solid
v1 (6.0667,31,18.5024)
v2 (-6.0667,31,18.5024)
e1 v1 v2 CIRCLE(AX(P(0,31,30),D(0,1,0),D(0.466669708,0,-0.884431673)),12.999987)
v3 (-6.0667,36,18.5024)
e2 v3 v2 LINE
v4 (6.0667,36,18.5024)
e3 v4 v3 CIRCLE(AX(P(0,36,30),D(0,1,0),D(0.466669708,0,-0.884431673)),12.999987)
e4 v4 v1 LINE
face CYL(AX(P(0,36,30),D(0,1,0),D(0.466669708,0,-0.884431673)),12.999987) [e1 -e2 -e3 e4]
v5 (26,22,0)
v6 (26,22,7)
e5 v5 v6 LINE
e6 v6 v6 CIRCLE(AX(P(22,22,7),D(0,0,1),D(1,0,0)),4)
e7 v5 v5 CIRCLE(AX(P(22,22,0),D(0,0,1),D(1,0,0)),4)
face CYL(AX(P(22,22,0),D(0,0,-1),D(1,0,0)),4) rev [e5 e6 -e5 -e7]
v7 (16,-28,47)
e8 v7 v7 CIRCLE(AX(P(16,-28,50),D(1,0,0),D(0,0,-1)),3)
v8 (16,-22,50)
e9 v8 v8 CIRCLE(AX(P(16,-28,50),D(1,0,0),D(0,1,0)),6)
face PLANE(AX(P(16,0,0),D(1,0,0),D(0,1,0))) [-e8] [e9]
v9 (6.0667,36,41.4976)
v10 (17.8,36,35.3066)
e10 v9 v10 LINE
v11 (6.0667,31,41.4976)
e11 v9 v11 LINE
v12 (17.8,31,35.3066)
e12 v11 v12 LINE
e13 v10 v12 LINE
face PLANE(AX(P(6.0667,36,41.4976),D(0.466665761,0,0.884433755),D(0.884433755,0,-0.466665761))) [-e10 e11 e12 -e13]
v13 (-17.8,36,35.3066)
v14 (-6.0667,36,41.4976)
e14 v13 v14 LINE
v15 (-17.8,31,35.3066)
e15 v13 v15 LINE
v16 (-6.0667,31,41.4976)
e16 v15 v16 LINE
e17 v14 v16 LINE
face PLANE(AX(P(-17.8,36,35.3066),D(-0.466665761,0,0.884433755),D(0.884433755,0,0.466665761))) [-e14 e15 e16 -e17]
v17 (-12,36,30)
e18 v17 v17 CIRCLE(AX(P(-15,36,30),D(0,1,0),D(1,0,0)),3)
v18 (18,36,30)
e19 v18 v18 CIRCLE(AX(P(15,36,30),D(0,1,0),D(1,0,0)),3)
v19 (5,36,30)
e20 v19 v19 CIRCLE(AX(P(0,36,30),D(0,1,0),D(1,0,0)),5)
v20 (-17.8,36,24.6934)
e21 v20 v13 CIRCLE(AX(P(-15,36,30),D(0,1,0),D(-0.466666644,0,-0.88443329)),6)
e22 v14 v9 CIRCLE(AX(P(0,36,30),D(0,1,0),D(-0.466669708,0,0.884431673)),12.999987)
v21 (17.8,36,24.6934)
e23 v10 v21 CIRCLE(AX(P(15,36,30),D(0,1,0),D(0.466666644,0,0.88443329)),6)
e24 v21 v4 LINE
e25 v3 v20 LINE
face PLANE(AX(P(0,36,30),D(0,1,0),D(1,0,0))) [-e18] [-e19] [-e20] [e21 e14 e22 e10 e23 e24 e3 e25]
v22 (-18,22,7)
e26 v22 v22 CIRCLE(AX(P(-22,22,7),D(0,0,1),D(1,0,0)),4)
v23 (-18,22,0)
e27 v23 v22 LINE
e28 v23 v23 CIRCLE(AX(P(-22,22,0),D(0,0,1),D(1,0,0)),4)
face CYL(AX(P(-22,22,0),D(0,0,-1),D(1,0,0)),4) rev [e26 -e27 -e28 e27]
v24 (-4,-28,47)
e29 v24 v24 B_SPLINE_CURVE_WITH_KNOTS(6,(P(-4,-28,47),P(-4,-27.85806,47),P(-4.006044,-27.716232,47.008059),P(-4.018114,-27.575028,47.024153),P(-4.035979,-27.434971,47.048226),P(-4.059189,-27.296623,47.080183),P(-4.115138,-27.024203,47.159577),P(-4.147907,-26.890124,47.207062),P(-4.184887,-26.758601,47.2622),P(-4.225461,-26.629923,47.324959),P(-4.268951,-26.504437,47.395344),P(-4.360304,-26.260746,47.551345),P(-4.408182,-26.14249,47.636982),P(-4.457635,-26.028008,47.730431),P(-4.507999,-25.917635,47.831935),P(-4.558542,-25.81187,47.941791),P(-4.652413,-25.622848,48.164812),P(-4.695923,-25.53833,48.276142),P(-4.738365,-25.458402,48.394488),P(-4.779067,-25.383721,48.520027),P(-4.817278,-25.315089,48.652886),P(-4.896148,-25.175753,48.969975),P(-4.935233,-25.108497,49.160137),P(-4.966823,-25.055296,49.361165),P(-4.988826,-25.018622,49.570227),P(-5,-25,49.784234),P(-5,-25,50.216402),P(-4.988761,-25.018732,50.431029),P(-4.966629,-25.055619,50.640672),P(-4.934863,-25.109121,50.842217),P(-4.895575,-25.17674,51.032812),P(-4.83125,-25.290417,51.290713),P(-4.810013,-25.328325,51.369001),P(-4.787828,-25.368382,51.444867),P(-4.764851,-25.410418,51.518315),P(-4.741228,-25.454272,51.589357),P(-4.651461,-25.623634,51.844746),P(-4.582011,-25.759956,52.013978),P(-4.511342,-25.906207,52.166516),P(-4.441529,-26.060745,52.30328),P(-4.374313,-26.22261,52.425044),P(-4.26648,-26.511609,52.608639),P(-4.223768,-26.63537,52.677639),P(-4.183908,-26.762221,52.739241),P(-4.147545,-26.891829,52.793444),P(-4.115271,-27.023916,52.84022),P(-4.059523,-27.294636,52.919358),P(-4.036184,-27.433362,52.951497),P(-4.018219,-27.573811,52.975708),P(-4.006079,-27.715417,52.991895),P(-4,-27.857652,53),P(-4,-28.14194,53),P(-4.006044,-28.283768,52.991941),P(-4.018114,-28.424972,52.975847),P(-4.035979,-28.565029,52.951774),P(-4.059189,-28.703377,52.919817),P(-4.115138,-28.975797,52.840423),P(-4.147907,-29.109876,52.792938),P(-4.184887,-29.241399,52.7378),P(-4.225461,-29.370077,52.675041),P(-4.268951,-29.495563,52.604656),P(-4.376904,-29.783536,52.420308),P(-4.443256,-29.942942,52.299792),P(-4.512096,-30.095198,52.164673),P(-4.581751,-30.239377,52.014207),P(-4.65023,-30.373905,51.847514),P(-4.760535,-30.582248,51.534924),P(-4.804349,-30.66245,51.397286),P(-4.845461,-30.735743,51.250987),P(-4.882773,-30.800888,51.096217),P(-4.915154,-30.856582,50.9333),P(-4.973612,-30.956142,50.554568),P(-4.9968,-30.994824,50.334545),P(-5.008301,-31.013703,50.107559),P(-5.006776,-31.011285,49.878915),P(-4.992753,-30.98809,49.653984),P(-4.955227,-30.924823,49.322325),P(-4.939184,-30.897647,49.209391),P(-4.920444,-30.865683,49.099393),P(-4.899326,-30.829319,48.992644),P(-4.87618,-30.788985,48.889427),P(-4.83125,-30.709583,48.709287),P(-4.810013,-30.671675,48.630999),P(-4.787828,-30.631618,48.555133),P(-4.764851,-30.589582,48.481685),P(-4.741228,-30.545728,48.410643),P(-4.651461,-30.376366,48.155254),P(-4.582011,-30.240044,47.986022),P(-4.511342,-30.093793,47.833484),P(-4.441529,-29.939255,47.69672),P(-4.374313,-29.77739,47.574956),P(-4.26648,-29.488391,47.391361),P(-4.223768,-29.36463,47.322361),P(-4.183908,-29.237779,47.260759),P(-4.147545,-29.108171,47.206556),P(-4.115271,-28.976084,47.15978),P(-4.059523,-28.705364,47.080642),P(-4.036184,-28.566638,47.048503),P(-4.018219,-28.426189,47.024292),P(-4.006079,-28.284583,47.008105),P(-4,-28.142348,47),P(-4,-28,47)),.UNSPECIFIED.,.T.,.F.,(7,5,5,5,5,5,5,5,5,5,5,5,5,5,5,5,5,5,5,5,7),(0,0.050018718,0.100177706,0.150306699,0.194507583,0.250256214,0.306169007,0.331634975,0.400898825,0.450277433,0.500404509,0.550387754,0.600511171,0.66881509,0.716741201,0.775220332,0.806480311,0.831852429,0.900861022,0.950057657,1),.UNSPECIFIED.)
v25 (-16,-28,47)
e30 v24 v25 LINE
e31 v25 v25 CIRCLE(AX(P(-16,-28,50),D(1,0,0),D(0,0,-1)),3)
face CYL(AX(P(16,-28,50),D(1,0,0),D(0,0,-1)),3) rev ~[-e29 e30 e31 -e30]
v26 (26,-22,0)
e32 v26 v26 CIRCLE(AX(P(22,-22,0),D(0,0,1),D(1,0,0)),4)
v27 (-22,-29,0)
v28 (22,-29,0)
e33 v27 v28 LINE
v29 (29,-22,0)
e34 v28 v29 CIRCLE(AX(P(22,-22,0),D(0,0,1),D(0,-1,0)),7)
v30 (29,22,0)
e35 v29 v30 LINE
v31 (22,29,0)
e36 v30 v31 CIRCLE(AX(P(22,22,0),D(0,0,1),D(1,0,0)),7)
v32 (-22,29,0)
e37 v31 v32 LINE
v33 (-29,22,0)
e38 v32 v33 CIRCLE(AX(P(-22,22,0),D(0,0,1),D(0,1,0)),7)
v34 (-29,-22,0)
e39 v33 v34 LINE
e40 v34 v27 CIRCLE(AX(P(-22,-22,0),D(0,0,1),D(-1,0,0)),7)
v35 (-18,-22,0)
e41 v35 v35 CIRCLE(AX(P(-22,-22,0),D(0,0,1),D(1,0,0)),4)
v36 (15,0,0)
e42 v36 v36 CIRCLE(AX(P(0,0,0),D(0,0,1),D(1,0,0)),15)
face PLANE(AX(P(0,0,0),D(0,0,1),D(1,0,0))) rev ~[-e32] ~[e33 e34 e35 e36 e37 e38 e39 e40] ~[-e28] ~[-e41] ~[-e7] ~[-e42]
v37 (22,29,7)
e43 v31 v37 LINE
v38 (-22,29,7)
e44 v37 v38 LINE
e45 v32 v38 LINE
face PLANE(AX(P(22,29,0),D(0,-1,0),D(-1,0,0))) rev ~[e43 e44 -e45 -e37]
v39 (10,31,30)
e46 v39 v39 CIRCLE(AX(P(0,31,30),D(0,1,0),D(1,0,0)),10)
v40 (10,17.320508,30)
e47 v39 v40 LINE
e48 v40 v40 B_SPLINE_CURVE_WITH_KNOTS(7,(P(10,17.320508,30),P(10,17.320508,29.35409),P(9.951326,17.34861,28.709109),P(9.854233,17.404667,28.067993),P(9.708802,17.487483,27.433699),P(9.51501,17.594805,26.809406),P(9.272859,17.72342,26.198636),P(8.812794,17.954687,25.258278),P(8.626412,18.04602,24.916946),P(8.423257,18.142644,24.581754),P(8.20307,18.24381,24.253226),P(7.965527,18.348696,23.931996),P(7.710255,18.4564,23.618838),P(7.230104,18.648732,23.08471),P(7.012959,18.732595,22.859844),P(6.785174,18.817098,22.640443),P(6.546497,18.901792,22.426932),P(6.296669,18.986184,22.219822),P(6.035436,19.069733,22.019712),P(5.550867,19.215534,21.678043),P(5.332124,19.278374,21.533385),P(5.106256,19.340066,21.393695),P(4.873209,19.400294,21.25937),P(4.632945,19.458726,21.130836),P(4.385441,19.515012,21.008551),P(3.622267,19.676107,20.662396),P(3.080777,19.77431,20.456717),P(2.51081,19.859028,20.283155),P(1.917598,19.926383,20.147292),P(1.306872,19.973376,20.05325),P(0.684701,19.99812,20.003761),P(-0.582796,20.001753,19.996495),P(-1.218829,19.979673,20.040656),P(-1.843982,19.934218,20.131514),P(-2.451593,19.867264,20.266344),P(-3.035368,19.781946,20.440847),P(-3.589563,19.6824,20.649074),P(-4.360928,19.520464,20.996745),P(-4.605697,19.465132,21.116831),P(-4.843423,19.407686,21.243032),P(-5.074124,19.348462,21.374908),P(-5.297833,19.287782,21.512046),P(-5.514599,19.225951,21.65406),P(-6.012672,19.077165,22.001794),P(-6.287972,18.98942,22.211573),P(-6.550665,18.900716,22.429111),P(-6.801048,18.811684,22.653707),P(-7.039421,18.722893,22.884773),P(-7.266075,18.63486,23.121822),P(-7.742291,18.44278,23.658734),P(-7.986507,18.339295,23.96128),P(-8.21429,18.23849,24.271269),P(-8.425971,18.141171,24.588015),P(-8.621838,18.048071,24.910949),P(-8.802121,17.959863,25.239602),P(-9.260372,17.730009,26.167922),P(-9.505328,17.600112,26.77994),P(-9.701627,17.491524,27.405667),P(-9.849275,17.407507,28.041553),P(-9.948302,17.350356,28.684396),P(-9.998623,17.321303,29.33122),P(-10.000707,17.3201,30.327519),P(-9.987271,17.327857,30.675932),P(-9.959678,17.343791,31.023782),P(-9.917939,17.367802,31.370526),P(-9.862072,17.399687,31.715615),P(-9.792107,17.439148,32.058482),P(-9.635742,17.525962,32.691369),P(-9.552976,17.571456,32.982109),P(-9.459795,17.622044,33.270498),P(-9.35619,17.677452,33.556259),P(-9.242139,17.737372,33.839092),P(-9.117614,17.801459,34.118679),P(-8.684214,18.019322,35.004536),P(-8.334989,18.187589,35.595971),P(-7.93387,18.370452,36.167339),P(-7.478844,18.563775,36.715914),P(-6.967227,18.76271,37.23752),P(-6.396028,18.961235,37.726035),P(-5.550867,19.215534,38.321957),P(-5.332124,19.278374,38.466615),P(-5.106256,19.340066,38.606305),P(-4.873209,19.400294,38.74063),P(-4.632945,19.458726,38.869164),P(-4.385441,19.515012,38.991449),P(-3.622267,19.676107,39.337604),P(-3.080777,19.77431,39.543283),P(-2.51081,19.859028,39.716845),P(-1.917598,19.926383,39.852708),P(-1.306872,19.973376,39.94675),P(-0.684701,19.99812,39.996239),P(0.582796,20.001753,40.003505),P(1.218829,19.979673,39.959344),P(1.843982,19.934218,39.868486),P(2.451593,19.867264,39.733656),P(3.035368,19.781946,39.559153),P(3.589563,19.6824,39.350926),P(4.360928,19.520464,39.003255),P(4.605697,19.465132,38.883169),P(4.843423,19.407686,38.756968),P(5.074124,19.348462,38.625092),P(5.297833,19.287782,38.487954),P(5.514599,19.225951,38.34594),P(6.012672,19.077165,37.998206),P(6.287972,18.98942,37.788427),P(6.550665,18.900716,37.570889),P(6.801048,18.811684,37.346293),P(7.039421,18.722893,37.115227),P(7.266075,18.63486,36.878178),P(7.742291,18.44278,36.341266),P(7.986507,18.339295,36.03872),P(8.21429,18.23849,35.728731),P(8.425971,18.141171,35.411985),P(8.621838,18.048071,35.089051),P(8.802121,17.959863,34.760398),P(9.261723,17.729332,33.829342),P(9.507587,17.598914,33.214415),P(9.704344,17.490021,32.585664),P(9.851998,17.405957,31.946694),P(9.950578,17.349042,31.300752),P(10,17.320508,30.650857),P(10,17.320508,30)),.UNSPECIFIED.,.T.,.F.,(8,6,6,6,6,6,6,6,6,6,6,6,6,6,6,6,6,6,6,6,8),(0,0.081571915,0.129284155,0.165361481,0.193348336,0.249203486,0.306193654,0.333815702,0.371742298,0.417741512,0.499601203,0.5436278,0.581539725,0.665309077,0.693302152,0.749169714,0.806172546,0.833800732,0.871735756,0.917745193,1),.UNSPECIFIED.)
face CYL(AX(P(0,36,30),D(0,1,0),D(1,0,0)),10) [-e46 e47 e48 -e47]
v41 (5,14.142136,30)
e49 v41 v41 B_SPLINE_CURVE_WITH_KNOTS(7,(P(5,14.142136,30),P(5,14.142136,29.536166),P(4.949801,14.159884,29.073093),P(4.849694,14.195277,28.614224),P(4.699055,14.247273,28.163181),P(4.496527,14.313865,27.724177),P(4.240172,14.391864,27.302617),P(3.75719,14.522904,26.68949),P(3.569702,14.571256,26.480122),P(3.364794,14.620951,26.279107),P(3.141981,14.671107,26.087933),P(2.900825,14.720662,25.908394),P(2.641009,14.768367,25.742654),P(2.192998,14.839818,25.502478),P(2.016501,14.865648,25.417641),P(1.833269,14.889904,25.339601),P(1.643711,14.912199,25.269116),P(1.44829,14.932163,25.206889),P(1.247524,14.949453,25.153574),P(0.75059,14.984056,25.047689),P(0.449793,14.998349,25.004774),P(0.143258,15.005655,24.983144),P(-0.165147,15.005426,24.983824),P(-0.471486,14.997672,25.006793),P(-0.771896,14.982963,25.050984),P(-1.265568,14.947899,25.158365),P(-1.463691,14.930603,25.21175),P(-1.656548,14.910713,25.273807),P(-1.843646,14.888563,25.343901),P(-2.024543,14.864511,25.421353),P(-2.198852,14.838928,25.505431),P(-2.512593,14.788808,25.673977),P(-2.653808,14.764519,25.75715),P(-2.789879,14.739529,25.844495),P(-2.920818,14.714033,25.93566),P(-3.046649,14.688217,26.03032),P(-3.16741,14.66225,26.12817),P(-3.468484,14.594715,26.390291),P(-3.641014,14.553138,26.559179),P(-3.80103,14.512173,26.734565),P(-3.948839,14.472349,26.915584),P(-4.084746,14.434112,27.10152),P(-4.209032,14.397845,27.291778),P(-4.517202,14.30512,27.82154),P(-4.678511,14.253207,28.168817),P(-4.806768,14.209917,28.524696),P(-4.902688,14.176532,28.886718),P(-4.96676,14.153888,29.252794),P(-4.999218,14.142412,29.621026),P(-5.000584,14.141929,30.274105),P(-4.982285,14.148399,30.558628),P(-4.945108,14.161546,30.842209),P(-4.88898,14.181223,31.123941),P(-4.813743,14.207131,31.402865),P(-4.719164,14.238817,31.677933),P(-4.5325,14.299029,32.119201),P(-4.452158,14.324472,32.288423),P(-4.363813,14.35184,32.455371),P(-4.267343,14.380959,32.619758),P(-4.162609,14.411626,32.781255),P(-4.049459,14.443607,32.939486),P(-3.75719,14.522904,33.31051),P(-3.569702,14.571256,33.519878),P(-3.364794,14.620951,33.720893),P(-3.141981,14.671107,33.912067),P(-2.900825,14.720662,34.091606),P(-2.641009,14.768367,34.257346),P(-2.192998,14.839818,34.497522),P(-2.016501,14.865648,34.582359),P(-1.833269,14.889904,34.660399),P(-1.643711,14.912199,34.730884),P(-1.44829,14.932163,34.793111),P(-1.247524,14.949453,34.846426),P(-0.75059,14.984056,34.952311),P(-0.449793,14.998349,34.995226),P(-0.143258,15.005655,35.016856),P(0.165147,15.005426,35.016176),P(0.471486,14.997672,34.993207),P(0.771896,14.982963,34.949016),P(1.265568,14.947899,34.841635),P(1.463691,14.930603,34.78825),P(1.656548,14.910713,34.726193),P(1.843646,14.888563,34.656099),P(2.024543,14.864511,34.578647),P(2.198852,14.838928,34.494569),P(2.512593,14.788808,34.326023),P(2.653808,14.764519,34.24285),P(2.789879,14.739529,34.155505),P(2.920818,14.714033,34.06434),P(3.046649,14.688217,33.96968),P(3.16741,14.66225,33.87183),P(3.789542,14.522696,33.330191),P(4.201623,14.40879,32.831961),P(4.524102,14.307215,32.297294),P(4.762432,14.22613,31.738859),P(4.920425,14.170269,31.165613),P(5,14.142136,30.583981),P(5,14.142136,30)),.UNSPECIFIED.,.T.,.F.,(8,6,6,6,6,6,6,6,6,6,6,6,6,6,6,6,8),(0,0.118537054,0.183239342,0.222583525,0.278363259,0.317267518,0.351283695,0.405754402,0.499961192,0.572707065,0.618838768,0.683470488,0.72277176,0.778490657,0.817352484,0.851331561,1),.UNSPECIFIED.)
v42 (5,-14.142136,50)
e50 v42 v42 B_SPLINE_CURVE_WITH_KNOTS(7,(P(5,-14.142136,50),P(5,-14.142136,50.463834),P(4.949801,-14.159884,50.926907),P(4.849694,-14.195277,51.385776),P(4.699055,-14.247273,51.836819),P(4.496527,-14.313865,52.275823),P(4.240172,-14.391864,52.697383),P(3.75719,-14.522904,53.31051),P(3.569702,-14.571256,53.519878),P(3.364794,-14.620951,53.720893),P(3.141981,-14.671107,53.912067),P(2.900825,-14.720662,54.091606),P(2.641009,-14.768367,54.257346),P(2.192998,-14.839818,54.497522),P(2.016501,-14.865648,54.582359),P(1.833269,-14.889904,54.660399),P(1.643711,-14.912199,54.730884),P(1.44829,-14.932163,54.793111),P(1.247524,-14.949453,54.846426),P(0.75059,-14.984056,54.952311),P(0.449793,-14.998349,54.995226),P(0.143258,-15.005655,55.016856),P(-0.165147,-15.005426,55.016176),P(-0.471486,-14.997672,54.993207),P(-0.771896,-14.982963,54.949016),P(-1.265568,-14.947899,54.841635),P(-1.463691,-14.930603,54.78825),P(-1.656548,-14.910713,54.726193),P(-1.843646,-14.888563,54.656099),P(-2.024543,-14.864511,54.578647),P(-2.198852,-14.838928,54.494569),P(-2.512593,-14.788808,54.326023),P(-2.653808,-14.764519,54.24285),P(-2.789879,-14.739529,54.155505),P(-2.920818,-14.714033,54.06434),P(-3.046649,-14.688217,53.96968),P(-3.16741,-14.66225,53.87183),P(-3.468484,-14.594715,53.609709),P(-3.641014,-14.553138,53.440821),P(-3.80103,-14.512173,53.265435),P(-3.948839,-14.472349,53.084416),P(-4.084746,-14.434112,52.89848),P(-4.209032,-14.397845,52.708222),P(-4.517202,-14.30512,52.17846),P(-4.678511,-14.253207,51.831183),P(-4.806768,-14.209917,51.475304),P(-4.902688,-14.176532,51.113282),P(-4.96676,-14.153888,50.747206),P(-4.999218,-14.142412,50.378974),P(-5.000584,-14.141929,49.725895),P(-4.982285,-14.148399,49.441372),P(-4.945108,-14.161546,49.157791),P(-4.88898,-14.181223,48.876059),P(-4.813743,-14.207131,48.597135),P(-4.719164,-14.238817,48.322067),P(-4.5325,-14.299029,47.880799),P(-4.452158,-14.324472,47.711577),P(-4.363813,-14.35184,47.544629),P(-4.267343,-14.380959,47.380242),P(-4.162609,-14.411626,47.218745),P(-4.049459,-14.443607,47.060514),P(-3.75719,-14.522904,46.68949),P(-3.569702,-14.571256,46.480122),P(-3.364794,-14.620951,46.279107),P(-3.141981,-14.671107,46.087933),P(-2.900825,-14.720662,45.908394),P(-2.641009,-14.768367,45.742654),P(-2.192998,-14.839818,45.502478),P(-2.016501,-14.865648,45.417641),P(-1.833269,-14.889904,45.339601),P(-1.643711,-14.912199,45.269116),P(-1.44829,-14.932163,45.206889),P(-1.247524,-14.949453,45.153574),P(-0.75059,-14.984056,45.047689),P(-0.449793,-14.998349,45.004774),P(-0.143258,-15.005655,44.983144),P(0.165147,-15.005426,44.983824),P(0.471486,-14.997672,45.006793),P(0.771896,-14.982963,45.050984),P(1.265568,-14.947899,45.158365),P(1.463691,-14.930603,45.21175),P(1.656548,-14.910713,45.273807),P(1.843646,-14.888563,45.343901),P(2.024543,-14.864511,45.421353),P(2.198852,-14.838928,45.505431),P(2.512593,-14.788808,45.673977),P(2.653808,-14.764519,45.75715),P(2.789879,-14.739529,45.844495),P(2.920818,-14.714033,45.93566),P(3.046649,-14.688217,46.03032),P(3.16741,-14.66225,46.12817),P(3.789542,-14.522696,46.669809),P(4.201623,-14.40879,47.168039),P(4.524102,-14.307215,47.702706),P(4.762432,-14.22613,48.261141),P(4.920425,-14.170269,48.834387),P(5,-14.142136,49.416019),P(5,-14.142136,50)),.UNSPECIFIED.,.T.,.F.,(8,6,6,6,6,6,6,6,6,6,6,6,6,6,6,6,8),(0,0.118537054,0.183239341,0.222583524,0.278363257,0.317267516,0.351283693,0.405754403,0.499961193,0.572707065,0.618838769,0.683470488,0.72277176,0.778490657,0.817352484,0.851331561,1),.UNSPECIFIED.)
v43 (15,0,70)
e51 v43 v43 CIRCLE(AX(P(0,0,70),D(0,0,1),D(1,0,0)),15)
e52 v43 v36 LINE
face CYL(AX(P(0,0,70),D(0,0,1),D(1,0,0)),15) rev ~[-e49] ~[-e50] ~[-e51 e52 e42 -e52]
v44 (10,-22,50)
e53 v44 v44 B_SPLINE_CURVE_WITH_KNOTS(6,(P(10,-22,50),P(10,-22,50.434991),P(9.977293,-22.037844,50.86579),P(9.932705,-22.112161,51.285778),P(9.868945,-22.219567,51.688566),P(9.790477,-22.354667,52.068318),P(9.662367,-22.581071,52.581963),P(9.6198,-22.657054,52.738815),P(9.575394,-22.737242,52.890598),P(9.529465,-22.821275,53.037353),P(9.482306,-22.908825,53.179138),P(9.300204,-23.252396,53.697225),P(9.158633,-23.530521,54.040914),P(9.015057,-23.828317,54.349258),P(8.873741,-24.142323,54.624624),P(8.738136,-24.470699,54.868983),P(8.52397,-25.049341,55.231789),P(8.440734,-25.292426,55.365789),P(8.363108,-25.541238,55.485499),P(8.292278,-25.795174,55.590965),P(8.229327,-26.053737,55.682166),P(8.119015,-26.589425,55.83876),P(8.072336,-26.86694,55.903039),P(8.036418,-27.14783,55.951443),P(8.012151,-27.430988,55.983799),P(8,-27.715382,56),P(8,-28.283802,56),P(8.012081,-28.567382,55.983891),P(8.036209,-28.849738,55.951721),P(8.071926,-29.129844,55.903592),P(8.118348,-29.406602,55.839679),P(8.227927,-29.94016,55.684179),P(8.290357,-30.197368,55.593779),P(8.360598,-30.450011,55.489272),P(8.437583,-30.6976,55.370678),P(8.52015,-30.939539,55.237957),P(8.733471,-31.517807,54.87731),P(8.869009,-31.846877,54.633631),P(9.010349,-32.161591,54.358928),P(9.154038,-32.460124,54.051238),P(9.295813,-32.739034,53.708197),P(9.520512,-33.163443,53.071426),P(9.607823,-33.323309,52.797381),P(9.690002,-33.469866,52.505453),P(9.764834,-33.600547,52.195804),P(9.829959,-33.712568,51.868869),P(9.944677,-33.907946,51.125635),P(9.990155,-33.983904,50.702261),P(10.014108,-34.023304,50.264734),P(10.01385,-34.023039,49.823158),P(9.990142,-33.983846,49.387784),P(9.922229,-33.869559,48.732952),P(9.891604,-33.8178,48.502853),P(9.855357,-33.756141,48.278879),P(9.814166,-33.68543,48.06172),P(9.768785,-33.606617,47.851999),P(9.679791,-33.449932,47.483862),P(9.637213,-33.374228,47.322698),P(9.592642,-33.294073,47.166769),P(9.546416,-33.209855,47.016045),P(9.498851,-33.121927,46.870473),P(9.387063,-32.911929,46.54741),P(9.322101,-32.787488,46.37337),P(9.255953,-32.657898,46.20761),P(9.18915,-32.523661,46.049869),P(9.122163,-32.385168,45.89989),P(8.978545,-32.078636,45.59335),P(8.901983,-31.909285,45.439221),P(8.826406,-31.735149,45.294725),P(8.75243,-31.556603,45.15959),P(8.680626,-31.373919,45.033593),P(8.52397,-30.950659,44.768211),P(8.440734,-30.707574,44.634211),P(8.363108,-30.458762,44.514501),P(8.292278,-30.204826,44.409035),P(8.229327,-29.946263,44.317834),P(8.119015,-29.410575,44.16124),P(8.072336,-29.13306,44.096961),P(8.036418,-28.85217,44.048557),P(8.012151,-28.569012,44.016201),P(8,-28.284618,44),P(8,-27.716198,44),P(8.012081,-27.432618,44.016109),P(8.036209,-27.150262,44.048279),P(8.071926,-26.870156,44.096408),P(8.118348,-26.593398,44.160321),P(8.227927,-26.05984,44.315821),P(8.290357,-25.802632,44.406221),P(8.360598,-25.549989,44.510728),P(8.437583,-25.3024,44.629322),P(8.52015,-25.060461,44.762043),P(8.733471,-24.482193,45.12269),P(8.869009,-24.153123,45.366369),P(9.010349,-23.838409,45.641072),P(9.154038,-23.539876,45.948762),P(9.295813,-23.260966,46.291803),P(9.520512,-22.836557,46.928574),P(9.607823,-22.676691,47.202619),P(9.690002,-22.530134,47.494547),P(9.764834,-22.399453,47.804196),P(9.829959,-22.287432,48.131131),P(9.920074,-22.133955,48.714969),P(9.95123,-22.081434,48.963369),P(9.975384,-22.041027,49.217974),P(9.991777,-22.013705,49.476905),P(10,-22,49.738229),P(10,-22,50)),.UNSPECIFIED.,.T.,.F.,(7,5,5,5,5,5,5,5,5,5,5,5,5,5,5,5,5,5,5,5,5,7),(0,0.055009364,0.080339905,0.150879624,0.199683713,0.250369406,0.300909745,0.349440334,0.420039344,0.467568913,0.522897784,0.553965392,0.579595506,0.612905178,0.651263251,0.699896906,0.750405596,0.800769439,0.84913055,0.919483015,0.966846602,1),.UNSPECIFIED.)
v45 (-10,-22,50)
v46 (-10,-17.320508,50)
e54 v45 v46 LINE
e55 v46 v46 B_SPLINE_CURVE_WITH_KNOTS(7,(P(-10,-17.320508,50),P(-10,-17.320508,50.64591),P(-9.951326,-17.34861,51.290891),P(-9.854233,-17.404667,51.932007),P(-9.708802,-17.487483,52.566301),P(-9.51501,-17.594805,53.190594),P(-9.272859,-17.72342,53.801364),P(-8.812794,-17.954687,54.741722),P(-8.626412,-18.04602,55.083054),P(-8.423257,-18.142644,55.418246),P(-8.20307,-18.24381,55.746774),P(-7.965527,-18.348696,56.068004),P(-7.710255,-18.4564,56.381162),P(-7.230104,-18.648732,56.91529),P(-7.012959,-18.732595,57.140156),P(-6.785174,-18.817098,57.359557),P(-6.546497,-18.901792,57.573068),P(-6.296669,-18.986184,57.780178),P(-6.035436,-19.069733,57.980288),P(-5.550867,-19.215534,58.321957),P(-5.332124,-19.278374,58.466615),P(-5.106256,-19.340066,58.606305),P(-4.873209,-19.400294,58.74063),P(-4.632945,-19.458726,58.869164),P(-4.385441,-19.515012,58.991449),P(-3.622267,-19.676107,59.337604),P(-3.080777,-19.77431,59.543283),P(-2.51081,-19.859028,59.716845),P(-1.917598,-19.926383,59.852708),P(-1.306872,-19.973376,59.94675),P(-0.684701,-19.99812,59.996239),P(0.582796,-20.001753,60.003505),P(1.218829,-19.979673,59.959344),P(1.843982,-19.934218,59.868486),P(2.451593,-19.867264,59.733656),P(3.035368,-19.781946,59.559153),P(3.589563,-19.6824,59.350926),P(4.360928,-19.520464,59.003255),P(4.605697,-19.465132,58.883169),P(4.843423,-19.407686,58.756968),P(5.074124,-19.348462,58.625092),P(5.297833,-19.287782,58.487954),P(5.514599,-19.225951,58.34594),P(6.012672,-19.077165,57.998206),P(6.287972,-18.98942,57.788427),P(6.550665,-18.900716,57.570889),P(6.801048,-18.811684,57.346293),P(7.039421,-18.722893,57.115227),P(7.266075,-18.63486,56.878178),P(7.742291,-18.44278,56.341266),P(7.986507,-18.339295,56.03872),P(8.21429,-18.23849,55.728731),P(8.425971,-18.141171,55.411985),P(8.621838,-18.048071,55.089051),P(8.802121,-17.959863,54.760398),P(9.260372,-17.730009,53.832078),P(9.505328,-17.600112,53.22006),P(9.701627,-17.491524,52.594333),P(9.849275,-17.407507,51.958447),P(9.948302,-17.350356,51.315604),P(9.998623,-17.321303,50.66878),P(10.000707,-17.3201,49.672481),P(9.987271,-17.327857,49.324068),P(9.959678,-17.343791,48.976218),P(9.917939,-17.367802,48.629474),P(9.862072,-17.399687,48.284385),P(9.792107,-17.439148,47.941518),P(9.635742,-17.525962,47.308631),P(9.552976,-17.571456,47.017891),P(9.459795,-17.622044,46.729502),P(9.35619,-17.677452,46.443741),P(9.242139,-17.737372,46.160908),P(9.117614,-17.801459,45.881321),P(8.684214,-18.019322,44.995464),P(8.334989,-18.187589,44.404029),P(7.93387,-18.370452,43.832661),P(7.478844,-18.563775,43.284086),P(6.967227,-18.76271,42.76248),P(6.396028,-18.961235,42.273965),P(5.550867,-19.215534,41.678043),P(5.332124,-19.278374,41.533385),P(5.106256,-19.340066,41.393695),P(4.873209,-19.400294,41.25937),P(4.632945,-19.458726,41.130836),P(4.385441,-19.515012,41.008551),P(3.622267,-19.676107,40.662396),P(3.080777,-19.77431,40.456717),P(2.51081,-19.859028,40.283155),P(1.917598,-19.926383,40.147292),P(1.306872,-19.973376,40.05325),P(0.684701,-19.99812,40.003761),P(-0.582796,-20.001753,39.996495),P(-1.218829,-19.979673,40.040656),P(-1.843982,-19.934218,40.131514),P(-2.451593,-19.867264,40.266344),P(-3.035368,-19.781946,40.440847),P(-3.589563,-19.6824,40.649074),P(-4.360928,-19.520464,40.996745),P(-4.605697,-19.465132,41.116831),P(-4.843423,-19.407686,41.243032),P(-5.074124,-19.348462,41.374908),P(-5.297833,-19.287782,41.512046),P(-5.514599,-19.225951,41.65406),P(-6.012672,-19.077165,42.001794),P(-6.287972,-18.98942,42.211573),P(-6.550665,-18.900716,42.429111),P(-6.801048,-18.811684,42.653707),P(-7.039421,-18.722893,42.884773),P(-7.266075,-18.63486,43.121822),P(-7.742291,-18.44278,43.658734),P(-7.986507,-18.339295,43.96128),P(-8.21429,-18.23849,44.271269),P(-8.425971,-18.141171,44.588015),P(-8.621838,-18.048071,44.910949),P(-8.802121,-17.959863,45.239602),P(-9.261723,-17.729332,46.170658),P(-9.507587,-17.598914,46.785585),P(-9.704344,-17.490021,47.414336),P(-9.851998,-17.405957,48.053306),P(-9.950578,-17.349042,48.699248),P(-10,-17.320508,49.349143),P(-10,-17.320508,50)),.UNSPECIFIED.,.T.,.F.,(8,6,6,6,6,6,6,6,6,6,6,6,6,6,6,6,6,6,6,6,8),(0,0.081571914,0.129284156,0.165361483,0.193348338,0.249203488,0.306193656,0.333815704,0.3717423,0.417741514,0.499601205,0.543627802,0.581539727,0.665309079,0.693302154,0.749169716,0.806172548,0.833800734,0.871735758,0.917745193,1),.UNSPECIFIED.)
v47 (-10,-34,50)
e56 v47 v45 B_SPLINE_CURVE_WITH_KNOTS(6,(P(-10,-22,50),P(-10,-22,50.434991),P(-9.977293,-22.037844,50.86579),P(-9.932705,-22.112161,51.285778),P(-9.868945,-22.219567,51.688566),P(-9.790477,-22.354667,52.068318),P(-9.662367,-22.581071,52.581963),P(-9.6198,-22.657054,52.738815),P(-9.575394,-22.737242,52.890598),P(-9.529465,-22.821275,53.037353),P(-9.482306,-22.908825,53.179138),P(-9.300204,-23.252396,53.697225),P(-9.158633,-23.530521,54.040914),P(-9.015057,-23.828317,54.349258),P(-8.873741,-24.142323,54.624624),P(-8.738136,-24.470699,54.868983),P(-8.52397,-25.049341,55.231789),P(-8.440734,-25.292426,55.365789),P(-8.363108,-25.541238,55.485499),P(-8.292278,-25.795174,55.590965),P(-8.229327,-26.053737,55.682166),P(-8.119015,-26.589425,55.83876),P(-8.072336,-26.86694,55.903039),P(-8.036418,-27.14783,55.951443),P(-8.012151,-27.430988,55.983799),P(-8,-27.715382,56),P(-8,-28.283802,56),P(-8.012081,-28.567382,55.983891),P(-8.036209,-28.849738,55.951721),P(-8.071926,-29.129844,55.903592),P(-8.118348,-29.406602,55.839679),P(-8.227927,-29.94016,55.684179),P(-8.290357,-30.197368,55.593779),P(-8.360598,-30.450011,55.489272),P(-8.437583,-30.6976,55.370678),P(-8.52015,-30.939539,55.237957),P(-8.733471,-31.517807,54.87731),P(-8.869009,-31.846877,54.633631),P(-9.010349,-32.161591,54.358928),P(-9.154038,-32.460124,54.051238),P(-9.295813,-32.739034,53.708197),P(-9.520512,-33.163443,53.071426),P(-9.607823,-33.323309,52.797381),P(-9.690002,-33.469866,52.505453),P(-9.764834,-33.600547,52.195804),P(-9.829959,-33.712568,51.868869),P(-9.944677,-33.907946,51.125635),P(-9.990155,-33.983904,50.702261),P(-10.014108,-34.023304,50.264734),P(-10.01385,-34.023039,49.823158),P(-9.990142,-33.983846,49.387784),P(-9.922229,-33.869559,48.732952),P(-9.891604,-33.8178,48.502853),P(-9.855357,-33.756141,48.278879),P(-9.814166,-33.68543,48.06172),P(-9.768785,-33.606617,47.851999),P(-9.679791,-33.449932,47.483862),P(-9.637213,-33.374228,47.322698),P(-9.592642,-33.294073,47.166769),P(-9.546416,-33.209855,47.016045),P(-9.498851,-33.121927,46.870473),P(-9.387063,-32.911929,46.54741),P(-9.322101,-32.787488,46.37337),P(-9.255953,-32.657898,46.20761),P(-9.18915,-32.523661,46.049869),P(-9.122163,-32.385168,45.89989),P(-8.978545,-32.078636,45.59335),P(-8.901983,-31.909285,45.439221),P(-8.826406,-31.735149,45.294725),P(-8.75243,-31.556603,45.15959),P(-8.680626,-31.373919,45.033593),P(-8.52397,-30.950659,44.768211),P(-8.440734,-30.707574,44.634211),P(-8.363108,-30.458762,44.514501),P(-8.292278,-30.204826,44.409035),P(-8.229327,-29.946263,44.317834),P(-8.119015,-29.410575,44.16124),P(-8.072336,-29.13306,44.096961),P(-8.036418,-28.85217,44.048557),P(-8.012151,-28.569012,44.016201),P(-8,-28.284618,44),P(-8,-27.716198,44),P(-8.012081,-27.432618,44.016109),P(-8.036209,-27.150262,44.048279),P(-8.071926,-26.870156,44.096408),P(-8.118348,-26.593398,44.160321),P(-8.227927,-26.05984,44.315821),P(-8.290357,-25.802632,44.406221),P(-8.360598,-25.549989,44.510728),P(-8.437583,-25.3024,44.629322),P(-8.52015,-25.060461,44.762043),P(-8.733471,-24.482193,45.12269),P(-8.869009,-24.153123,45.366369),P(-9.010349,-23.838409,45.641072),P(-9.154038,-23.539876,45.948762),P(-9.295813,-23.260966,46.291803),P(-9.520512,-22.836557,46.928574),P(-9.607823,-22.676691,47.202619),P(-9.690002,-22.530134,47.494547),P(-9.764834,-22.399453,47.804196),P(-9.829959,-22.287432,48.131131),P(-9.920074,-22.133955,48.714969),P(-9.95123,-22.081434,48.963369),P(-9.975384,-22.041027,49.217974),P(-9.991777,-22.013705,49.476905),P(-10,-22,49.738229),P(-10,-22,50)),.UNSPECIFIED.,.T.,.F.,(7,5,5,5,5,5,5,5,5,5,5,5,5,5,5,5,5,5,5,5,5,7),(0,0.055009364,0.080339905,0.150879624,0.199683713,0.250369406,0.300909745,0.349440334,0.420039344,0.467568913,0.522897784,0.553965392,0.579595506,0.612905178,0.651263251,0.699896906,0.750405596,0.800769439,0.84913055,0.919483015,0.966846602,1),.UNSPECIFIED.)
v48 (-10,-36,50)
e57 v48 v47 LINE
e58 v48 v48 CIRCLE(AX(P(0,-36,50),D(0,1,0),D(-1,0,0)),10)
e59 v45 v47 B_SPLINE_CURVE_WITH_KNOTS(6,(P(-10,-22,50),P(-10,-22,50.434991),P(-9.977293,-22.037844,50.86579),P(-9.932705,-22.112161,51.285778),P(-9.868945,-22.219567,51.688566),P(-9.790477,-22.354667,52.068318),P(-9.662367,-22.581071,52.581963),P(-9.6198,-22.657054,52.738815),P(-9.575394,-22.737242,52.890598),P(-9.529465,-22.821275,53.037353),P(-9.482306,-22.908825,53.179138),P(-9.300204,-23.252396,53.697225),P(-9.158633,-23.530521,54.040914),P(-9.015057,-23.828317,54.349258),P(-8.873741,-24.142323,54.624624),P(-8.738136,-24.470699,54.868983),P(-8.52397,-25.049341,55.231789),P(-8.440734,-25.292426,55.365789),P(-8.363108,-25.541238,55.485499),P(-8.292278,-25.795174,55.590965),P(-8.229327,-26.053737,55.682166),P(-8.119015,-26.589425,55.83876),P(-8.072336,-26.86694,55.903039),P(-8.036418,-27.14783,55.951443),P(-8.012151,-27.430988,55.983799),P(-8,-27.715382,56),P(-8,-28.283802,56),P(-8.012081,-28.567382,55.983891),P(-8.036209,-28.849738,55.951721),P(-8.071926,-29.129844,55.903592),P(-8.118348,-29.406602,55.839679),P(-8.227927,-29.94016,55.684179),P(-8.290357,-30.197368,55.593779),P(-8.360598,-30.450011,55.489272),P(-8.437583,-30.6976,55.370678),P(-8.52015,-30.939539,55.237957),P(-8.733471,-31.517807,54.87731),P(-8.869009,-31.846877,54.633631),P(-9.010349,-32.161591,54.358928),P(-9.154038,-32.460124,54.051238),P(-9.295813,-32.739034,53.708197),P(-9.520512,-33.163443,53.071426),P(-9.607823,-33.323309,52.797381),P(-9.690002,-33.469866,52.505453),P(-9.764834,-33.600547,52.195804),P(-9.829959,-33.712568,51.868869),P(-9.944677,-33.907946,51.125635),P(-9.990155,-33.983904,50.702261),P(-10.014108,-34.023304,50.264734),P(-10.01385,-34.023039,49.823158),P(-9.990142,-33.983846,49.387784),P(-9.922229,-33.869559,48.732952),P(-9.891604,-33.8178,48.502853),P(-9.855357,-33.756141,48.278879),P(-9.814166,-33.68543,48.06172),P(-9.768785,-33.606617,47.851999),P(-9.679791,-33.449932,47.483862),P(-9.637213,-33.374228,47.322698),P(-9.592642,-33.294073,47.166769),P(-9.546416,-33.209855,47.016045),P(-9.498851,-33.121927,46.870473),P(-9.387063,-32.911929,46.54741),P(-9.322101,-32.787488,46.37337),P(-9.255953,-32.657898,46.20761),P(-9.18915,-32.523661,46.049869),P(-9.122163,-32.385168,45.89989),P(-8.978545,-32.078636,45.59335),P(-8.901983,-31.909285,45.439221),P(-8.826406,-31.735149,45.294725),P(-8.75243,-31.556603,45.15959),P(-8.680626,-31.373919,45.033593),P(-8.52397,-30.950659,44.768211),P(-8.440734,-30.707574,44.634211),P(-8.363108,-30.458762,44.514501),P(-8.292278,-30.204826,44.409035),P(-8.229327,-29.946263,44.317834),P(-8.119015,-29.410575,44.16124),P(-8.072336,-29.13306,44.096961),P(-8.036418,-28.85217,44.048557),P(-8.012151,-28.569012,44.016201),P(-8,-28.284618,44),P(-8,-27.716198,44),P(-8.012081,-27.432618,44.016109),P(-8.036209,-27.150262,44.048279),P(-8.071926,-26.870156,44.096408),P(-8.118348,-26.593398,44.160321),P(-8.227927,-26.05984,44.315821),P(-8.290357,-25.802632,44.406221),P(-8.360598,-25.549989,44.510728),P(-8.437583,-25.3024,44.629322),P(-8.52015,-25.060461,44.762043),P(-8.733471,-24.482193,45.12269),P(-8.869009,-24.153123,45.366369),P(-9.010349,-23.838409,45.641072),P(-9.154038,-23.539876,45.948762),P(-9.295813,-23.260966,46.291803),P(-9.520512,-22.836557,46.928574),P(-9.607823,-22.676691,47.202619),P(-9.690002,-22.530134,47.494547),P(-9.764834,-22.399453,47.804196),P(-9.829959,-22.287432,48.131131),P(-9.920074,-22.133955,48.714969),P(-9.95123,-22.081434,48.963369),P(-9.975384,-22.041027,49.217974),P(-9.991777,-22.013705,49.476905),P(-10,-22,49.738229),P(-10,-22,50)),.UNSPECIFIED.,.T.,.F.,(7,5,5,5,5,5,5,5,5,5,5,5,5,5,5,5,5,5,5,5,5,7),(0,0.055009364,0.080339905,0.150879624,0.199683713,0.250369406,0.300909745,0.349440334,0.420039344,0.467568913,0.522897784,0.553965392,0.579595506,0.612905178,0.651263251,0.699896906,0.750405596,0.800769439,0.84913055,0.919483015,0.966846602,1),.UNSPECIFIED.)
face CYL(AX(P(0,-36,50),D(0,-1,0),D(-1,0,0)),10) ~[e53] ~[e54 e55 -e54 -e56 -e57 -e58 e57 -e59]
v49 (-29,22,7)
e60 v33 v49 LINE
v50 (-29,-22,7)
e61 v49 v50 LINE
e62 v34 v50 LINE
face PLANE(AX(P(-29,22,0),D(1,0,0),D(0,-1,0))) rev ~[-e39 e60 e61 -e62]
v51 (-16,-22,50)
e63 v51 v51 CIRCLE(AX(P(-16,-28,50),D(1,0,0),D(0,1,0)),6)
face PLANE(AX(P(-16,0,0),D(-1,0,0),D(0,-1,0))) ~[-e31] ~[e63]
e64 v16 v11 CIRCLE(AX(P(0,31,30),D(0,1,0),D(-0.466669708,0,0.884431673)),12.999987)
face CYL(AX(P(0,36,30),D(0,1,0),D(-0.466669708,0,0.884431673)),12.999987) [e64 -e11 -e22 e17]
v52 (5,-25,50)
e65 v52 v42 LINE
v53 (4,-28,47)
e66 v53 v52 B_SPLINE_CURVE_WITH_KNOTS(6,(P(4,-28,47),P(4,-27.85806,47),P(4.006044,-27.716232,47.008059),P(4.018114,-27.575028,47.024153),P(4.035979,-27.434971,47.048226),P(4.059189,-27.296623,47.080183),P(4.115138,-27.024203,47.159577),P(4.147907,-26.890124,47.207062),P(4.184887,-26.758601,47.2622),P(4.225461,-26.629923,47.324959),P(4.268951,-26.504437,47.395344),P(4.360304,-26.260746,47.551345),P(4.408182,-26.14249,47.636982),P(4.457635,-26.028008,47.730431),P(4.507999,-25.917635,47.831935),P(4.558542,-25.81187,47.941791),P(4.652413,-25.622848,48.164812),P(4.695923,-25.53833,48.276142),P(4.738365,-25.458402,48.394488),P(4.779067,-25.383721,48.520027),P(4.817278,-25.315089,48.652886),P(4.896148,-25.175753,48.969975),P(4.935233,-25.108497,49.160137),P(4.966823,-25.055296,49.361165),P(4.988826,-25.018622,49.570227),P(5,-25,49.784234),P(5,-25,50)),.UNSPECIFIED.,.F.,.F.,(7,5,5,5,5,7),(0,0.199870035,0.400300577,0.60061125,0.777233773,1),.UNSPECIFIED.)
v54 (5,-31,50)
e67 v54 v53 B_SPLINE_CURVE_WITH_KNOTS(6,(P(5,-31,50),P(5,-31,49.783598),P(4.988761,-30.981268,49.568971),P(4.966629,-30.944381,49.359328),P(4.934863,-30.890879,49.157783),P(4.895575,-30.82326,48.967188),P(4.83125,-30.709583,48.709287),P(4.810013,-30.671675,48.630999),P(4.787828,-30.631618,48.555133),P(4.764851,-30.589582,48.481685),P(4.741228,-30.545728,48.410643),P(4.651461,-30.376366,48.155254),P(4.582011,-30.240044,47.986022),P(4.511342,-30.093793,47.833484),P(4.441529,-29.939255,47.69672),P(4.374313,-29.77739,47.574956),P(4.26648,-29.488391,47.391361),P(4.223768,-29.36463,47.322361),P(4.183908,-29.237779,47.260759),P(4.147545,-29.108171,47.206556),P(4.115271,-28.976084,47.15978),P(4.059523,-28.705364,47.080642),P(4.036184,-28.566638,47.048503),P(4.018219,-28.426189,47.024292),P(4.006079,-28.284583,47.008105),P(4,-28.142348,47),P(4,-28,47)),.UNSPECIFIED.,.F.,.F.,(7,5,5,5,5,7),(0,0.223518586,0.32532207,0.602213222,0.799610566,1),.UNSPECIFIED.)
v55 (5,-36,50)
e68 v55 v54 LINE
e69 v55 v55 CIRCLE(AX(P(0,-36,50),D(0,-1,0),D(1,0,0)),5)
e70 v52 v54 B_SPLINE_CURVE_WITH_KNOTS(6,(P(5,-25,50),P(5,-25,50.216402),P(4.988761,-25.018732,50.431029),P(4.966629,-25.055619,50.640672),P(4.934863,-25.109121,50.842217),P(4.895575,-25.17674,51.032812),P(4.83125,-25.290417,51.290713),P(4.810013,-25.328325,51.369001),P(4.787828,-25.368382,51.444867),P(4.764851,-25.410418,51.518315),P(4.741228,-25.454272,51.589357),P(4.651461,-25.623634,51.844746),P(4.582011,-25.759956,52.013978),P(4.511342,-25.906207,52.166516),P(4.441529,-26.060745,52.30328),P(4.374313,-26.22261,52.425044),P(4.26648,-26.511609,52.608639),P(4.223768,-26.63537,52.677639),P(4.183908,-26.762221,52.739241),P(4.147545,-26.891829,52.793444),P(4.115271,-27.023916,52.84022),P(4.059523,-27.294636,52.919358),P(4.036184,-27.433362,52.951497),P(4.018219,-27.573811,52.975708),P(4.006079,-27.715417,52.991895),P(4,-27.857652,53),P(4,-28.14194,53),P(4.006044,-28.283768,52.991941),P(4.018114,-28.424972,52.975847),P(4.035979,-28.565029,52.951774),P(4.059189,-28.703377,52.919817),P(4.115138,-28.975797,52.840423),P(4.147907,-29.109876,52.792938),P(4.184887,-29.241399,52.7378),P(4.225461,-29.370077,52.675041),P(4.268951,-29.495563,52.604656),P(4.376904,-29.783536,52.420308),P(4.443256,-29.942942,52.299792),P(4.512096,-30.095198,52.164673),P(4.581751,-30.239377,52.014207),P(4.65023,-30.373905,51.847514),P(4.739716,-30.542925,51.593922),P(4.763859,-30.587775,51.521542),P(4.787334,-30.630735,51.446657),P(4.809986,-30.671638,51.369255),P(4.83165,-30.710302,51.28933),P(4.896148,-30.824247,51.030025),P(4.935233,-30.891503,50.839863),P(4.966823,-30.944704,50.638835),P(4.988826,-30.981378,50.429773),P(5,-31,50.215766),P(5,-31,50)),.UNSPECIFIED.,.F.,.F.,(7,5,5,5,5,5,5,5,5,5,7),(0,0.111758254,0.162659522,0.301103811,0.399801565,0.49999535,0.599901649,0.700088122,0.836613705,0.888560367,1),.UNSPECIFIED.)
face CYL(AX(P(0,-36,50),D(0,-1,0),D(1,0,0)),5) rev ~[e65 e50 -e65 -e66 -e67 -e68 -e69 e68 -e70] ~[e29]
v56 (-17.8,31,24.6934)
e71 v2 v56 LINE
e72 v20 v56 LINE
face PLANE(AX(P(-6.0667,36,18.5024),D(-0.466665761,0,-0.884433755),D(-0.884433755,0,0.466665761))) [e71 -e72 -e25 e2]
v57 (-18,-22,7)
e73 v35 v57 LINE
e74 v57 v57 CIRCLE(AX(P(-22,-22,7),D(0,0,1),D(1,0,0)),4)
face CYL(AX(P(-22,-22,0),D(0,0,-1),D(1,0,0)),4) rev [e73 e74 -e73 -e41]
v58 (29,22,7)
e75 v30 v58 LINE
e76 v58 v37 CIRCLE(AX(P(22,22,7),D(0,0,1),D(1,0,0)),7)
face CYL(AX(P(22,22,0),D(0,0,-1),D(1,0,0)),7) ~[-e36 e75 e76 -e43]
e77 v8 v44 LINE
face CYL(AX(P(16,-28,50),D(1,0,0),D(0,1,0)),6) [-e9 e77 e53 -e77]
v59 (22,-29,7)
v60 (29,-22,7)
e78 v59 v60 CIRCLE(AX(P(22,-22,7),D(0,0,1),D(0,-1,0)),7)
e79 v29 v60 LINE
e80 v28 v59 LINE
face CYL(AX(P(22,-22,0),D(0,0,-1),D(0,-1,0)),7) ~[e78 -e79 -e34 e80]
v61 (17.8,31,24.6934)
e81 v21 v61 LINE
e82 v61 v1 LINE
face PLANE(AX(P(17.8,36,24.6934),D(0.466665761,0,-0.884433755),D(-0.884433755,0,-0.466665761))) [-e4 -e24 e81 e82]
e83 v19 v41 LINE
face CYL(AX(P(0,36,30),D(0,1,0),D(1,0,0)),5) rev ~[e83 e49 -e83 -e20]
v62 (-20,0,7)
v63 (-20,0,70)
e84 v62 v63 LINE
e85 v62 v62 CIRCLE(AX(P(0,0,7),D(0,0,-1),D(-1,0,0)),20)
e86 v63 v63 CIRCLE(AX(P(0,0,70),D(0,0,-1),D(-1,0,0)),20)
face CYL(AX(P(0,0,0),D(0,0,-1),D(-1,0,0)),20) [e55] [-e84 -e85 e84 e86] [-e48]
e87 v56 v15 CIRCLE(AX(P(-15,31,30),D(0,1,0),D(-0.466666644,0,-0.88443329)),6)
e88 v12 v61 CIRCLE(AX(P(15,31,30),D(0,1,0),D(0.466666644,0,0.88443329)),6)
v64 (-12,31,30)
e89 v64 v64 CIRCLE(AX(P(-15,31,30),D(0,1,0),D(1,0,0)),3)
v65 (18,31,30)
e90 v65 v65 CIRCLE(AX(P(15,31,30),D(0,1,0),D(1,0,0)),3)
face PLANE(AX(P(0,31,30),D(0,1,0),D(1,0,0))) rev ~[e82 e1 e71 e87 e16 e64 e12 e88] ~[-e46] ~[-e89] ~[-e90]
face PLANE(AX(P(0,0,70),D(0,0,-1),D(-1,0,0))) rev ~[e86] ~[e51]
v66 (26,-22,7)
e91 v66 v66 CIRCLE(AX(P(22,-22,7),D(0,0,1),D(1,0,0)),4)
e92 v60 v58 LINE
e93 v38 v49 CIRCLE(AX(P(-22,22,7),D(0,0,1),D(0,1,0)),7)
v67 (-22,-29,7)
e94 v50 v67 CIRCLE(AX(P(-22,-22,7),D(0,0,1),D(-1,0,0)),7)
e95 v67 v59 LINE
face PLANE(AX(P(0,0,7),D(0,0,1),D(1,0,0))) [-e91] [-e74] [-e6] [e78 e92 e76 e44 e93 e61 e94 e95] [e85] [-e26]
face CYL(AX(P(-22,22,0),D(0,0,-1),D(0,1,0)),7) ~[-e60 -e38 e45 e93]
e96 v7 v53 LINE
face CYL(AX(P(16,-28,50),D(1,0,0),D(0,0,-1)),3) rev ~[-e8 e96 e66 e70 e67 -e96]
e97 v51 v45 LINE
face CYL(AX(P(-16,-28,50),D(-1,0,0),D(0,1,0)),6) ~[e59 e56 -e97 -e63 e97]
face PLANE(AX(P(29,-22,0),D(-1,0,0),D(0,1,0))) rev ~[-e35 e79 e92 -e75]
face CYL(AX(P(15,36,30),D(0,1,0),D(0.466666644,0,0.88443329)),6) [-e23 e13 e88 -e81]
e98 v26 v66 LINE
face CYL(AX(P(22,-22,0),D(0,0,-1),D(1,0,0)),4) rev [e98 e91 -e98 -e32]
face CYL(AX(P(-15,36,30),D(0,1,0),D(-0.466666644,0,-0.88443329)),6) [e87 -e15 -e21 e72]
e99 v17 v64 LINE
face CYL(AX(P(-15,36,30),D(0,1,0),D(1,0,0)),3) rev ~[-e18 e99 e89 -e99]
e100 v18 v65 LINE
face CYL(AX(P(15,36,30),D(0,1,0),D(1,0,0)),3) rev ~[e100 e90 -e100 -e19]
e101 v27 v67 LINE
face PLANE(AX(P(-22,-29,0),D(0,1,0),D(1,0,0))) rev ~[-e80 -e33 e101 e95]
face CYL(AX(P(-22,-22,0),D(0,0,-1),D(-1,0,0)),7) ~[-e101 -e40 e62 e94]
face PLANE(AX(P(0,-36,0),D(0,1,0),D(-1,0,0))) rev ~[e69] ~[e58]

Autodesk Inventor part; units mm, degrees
sketch "草图1" plane through (0, 0, 0) normal (0, 0, 1) x (1, 0, 0)
  line L0 (22, 29) -> (-22, 29)
  arc A0 (-22, 29) -> (-29, 22) centre (-22, 22) ccw
  line L1 (-29, 22) -> (-29, -22)
  arc A1 (-29, -22) -> (-22, -29) centre (-22, -22) ccw
  line L2 (-22, -29) -> (22, -29)
  arc A2 (22, -29) -> (29, -22) centre (22, -22) ccw
  line L3 (29, -22) -> (29, 22)
  arc A3 (29, 22) -> (22, 29) centre (22, 22) ccw
  circle A4 centre (-22, 22) radius 4
  circle A5 centre (22, 22) radius 4
  circle A6 centre (22, -22) radius 4
  circle A7 centre (-22, -22) radius 4
  point P0 (0, 0)
  point P1 (0, 29)
  point P2 (-29, 0)
  dimension "d0" = 58
  dimension "d1" = 58
  dimension "d2" = 7
  dimension "d3" = 8
extrude "拉伸1" add sketch "草图1" along normal blind 7
sketch "草图2" plane through (0, 0, 0) normal (0, 0, -1) x (-1, 0, 0)
  circle A0 centre (0, 0) radius 20
  dimension "d6" = 40
extrude "拉伸2" add sketch "草图2" against normal blind 70
sketch "草图3" plane through (0, 0, 70) normal (0, 0, 1) x (1, 0, 0)
  circle A0 centre (0, 0) radius 15
  dimension "d9" = 30
extrude "拉伸3" cut sketch "草图3" against normal blind 70
ref_plane "工作平面4" through (0, -36, 0) normal (0, 1, 0) x (-1, 0, 0)
sketch "草图6" plane through (0, -36, 0) normal (0, 1, 0) x (-1, 0, 0)
  line L0 (22, 0) -> (-22, 0) projected
  line L1 (-22, 0) -> (-22, 7) projected
  line L2 (22, 7) -> (-22, 7) projected
  line L3 (22, 0) -> (22, 7) projected
  line L4 (20, 70) -> (-20, 70) projected
  line L5 (-20, 7) -> (20, 7) projected
  circle A0 centre (0, 50) radius 10
  point P0 (0, 0)
  point P1 (0, 70)
  dimension "d16" = 20
  dimension "d17" = 50
extrude "拉伸4" add sketch "草图6" along normal up to surface contours A0
sketch "草图7" plane through (0, -36, 50) normal (0, -1, 0) x (1, 0, 0)
  circle A0 centre (0, 0) radius 10 projected
  circle A1 centre (0, 0) radius 5
  point P0 (0, -50)
  dimension "d20" = 10
extrude "拉伸5" cut sketch "草图7" against normal up to surface contours A1
ref_plane "工作平面9" through (0, 36, 30) normal (0, 1, 0) x (1, 0, 0)
sketch "草图9" plane through (0, 36, 30) normal (0, 1, 0) x (1, 0, 0)
  circle A0 centre (0, 0) radius 10
  point P0 (0, 30)
  dimension "d28" = 20
extrude "拉伸7" add sketch "草图9" against normal up to surface
ref_plane "工作平面10" through (0, 36, 30) normal (0, 1, 0) x (1, 0, 0)
sketch "草图10" plane through (0, 36, 30) normal (0, 1, 0) x (1, 0, 0)
  circle A0 centre (0, 0) radius 5
  point P0 (0, 30)
  dimension "d31" = 10
extrude "拉伸8" cut sketch "草图10" against normal up to surface
sketch "草图11" plane through (0, 36, 30) normal (0, 1, 0) x (1, 0, 0)
  point P0 (0, 30)
sketch "草图12" plane through (0, 36, 30) normal (0, 1, 0) x (1, 0, 0)
  circle A0 centre (0, 0) radius 5 projected
  circle A1 centre (0, 0) radius 10 projected
  line L0 (6.0667, -11.4976) -> (17.8, -5.3066)
  arc A2 (17.8, -5.3066) -> (17.8, 5.3066) centre (15, 0) ccw
  line L1 (17.8, 5.3066) -> (6.0667, 11.4976)
  line L2 (-6.0667, 11.4976) -> (-17.8, 5.3066)
  arc A3 (-17.8, 5.3066) -> (-17.8, -5.3066) centre (-15, 0) ccw
  line L3 (-17.8, -5.3066) -> (-6.0667, -11.4976)
  circle A4 centre (15, 0) radius 3
  arc A5 (6.0667, 11.4976) -> (-6.0667, 11.4976) centre (0, 0) ccw
  arc A6 (-6.0667, -11.4976) -> (6.0667, -11.4976) centre (0, 0) ccw
  circle A7 centre (-15, 0) radius 3
  point P0 (0, 30)
  point P1 (0, -13)
  point P2 (0, 13)
  dimension "d34" = 6
  dimension "d35" = 6
  dimension "d36" = 30
  dimension "d37" = 13
extrude "拉伸9" add sketch "草图12" against normal blind 5 contours A6 L3 A3 L2 A5 L1 A2 L0
ref_plane "工作平面11" through (16, 0, 0) normal (1, 0, 0) x (0, 1, 0)
sketch "草图13" plane through (16, 0, 0) normal (1, 0, 0) x (0, 1, 0)
  line L0 (-36, 60) -> (-20, 60) projected
  line L1 (-36, 40) -> (-20, 40) projected
  circle A0 centre (-28, 50) radius 6
  line L2 (0, 84) -> (0, -14) projected
  line L3 (-22, 0) -> (22, 0) projected
  point P0 (0, 0)
  dimension "d41" = 12
  dimension "d42" = 28
  dimension "d43" = 50
extrude "拉伸10" add sketch "草图13" against normal up to surface
mirror "镜像1" about plane through (0, 0, 0) normal (1, 0, 0) of "拉伸10"
sketch "草图14" plane through (16, -28, 50) normal (1, 0, 0) x (0, 0, -1)
  circle A0 centre (0, 0) radius 3
  point P0 (50, 28)
  dimension "d46" = 6
extrude "拉伸11" cut sketch "草图14" against normal up to surface (32 mm away)
